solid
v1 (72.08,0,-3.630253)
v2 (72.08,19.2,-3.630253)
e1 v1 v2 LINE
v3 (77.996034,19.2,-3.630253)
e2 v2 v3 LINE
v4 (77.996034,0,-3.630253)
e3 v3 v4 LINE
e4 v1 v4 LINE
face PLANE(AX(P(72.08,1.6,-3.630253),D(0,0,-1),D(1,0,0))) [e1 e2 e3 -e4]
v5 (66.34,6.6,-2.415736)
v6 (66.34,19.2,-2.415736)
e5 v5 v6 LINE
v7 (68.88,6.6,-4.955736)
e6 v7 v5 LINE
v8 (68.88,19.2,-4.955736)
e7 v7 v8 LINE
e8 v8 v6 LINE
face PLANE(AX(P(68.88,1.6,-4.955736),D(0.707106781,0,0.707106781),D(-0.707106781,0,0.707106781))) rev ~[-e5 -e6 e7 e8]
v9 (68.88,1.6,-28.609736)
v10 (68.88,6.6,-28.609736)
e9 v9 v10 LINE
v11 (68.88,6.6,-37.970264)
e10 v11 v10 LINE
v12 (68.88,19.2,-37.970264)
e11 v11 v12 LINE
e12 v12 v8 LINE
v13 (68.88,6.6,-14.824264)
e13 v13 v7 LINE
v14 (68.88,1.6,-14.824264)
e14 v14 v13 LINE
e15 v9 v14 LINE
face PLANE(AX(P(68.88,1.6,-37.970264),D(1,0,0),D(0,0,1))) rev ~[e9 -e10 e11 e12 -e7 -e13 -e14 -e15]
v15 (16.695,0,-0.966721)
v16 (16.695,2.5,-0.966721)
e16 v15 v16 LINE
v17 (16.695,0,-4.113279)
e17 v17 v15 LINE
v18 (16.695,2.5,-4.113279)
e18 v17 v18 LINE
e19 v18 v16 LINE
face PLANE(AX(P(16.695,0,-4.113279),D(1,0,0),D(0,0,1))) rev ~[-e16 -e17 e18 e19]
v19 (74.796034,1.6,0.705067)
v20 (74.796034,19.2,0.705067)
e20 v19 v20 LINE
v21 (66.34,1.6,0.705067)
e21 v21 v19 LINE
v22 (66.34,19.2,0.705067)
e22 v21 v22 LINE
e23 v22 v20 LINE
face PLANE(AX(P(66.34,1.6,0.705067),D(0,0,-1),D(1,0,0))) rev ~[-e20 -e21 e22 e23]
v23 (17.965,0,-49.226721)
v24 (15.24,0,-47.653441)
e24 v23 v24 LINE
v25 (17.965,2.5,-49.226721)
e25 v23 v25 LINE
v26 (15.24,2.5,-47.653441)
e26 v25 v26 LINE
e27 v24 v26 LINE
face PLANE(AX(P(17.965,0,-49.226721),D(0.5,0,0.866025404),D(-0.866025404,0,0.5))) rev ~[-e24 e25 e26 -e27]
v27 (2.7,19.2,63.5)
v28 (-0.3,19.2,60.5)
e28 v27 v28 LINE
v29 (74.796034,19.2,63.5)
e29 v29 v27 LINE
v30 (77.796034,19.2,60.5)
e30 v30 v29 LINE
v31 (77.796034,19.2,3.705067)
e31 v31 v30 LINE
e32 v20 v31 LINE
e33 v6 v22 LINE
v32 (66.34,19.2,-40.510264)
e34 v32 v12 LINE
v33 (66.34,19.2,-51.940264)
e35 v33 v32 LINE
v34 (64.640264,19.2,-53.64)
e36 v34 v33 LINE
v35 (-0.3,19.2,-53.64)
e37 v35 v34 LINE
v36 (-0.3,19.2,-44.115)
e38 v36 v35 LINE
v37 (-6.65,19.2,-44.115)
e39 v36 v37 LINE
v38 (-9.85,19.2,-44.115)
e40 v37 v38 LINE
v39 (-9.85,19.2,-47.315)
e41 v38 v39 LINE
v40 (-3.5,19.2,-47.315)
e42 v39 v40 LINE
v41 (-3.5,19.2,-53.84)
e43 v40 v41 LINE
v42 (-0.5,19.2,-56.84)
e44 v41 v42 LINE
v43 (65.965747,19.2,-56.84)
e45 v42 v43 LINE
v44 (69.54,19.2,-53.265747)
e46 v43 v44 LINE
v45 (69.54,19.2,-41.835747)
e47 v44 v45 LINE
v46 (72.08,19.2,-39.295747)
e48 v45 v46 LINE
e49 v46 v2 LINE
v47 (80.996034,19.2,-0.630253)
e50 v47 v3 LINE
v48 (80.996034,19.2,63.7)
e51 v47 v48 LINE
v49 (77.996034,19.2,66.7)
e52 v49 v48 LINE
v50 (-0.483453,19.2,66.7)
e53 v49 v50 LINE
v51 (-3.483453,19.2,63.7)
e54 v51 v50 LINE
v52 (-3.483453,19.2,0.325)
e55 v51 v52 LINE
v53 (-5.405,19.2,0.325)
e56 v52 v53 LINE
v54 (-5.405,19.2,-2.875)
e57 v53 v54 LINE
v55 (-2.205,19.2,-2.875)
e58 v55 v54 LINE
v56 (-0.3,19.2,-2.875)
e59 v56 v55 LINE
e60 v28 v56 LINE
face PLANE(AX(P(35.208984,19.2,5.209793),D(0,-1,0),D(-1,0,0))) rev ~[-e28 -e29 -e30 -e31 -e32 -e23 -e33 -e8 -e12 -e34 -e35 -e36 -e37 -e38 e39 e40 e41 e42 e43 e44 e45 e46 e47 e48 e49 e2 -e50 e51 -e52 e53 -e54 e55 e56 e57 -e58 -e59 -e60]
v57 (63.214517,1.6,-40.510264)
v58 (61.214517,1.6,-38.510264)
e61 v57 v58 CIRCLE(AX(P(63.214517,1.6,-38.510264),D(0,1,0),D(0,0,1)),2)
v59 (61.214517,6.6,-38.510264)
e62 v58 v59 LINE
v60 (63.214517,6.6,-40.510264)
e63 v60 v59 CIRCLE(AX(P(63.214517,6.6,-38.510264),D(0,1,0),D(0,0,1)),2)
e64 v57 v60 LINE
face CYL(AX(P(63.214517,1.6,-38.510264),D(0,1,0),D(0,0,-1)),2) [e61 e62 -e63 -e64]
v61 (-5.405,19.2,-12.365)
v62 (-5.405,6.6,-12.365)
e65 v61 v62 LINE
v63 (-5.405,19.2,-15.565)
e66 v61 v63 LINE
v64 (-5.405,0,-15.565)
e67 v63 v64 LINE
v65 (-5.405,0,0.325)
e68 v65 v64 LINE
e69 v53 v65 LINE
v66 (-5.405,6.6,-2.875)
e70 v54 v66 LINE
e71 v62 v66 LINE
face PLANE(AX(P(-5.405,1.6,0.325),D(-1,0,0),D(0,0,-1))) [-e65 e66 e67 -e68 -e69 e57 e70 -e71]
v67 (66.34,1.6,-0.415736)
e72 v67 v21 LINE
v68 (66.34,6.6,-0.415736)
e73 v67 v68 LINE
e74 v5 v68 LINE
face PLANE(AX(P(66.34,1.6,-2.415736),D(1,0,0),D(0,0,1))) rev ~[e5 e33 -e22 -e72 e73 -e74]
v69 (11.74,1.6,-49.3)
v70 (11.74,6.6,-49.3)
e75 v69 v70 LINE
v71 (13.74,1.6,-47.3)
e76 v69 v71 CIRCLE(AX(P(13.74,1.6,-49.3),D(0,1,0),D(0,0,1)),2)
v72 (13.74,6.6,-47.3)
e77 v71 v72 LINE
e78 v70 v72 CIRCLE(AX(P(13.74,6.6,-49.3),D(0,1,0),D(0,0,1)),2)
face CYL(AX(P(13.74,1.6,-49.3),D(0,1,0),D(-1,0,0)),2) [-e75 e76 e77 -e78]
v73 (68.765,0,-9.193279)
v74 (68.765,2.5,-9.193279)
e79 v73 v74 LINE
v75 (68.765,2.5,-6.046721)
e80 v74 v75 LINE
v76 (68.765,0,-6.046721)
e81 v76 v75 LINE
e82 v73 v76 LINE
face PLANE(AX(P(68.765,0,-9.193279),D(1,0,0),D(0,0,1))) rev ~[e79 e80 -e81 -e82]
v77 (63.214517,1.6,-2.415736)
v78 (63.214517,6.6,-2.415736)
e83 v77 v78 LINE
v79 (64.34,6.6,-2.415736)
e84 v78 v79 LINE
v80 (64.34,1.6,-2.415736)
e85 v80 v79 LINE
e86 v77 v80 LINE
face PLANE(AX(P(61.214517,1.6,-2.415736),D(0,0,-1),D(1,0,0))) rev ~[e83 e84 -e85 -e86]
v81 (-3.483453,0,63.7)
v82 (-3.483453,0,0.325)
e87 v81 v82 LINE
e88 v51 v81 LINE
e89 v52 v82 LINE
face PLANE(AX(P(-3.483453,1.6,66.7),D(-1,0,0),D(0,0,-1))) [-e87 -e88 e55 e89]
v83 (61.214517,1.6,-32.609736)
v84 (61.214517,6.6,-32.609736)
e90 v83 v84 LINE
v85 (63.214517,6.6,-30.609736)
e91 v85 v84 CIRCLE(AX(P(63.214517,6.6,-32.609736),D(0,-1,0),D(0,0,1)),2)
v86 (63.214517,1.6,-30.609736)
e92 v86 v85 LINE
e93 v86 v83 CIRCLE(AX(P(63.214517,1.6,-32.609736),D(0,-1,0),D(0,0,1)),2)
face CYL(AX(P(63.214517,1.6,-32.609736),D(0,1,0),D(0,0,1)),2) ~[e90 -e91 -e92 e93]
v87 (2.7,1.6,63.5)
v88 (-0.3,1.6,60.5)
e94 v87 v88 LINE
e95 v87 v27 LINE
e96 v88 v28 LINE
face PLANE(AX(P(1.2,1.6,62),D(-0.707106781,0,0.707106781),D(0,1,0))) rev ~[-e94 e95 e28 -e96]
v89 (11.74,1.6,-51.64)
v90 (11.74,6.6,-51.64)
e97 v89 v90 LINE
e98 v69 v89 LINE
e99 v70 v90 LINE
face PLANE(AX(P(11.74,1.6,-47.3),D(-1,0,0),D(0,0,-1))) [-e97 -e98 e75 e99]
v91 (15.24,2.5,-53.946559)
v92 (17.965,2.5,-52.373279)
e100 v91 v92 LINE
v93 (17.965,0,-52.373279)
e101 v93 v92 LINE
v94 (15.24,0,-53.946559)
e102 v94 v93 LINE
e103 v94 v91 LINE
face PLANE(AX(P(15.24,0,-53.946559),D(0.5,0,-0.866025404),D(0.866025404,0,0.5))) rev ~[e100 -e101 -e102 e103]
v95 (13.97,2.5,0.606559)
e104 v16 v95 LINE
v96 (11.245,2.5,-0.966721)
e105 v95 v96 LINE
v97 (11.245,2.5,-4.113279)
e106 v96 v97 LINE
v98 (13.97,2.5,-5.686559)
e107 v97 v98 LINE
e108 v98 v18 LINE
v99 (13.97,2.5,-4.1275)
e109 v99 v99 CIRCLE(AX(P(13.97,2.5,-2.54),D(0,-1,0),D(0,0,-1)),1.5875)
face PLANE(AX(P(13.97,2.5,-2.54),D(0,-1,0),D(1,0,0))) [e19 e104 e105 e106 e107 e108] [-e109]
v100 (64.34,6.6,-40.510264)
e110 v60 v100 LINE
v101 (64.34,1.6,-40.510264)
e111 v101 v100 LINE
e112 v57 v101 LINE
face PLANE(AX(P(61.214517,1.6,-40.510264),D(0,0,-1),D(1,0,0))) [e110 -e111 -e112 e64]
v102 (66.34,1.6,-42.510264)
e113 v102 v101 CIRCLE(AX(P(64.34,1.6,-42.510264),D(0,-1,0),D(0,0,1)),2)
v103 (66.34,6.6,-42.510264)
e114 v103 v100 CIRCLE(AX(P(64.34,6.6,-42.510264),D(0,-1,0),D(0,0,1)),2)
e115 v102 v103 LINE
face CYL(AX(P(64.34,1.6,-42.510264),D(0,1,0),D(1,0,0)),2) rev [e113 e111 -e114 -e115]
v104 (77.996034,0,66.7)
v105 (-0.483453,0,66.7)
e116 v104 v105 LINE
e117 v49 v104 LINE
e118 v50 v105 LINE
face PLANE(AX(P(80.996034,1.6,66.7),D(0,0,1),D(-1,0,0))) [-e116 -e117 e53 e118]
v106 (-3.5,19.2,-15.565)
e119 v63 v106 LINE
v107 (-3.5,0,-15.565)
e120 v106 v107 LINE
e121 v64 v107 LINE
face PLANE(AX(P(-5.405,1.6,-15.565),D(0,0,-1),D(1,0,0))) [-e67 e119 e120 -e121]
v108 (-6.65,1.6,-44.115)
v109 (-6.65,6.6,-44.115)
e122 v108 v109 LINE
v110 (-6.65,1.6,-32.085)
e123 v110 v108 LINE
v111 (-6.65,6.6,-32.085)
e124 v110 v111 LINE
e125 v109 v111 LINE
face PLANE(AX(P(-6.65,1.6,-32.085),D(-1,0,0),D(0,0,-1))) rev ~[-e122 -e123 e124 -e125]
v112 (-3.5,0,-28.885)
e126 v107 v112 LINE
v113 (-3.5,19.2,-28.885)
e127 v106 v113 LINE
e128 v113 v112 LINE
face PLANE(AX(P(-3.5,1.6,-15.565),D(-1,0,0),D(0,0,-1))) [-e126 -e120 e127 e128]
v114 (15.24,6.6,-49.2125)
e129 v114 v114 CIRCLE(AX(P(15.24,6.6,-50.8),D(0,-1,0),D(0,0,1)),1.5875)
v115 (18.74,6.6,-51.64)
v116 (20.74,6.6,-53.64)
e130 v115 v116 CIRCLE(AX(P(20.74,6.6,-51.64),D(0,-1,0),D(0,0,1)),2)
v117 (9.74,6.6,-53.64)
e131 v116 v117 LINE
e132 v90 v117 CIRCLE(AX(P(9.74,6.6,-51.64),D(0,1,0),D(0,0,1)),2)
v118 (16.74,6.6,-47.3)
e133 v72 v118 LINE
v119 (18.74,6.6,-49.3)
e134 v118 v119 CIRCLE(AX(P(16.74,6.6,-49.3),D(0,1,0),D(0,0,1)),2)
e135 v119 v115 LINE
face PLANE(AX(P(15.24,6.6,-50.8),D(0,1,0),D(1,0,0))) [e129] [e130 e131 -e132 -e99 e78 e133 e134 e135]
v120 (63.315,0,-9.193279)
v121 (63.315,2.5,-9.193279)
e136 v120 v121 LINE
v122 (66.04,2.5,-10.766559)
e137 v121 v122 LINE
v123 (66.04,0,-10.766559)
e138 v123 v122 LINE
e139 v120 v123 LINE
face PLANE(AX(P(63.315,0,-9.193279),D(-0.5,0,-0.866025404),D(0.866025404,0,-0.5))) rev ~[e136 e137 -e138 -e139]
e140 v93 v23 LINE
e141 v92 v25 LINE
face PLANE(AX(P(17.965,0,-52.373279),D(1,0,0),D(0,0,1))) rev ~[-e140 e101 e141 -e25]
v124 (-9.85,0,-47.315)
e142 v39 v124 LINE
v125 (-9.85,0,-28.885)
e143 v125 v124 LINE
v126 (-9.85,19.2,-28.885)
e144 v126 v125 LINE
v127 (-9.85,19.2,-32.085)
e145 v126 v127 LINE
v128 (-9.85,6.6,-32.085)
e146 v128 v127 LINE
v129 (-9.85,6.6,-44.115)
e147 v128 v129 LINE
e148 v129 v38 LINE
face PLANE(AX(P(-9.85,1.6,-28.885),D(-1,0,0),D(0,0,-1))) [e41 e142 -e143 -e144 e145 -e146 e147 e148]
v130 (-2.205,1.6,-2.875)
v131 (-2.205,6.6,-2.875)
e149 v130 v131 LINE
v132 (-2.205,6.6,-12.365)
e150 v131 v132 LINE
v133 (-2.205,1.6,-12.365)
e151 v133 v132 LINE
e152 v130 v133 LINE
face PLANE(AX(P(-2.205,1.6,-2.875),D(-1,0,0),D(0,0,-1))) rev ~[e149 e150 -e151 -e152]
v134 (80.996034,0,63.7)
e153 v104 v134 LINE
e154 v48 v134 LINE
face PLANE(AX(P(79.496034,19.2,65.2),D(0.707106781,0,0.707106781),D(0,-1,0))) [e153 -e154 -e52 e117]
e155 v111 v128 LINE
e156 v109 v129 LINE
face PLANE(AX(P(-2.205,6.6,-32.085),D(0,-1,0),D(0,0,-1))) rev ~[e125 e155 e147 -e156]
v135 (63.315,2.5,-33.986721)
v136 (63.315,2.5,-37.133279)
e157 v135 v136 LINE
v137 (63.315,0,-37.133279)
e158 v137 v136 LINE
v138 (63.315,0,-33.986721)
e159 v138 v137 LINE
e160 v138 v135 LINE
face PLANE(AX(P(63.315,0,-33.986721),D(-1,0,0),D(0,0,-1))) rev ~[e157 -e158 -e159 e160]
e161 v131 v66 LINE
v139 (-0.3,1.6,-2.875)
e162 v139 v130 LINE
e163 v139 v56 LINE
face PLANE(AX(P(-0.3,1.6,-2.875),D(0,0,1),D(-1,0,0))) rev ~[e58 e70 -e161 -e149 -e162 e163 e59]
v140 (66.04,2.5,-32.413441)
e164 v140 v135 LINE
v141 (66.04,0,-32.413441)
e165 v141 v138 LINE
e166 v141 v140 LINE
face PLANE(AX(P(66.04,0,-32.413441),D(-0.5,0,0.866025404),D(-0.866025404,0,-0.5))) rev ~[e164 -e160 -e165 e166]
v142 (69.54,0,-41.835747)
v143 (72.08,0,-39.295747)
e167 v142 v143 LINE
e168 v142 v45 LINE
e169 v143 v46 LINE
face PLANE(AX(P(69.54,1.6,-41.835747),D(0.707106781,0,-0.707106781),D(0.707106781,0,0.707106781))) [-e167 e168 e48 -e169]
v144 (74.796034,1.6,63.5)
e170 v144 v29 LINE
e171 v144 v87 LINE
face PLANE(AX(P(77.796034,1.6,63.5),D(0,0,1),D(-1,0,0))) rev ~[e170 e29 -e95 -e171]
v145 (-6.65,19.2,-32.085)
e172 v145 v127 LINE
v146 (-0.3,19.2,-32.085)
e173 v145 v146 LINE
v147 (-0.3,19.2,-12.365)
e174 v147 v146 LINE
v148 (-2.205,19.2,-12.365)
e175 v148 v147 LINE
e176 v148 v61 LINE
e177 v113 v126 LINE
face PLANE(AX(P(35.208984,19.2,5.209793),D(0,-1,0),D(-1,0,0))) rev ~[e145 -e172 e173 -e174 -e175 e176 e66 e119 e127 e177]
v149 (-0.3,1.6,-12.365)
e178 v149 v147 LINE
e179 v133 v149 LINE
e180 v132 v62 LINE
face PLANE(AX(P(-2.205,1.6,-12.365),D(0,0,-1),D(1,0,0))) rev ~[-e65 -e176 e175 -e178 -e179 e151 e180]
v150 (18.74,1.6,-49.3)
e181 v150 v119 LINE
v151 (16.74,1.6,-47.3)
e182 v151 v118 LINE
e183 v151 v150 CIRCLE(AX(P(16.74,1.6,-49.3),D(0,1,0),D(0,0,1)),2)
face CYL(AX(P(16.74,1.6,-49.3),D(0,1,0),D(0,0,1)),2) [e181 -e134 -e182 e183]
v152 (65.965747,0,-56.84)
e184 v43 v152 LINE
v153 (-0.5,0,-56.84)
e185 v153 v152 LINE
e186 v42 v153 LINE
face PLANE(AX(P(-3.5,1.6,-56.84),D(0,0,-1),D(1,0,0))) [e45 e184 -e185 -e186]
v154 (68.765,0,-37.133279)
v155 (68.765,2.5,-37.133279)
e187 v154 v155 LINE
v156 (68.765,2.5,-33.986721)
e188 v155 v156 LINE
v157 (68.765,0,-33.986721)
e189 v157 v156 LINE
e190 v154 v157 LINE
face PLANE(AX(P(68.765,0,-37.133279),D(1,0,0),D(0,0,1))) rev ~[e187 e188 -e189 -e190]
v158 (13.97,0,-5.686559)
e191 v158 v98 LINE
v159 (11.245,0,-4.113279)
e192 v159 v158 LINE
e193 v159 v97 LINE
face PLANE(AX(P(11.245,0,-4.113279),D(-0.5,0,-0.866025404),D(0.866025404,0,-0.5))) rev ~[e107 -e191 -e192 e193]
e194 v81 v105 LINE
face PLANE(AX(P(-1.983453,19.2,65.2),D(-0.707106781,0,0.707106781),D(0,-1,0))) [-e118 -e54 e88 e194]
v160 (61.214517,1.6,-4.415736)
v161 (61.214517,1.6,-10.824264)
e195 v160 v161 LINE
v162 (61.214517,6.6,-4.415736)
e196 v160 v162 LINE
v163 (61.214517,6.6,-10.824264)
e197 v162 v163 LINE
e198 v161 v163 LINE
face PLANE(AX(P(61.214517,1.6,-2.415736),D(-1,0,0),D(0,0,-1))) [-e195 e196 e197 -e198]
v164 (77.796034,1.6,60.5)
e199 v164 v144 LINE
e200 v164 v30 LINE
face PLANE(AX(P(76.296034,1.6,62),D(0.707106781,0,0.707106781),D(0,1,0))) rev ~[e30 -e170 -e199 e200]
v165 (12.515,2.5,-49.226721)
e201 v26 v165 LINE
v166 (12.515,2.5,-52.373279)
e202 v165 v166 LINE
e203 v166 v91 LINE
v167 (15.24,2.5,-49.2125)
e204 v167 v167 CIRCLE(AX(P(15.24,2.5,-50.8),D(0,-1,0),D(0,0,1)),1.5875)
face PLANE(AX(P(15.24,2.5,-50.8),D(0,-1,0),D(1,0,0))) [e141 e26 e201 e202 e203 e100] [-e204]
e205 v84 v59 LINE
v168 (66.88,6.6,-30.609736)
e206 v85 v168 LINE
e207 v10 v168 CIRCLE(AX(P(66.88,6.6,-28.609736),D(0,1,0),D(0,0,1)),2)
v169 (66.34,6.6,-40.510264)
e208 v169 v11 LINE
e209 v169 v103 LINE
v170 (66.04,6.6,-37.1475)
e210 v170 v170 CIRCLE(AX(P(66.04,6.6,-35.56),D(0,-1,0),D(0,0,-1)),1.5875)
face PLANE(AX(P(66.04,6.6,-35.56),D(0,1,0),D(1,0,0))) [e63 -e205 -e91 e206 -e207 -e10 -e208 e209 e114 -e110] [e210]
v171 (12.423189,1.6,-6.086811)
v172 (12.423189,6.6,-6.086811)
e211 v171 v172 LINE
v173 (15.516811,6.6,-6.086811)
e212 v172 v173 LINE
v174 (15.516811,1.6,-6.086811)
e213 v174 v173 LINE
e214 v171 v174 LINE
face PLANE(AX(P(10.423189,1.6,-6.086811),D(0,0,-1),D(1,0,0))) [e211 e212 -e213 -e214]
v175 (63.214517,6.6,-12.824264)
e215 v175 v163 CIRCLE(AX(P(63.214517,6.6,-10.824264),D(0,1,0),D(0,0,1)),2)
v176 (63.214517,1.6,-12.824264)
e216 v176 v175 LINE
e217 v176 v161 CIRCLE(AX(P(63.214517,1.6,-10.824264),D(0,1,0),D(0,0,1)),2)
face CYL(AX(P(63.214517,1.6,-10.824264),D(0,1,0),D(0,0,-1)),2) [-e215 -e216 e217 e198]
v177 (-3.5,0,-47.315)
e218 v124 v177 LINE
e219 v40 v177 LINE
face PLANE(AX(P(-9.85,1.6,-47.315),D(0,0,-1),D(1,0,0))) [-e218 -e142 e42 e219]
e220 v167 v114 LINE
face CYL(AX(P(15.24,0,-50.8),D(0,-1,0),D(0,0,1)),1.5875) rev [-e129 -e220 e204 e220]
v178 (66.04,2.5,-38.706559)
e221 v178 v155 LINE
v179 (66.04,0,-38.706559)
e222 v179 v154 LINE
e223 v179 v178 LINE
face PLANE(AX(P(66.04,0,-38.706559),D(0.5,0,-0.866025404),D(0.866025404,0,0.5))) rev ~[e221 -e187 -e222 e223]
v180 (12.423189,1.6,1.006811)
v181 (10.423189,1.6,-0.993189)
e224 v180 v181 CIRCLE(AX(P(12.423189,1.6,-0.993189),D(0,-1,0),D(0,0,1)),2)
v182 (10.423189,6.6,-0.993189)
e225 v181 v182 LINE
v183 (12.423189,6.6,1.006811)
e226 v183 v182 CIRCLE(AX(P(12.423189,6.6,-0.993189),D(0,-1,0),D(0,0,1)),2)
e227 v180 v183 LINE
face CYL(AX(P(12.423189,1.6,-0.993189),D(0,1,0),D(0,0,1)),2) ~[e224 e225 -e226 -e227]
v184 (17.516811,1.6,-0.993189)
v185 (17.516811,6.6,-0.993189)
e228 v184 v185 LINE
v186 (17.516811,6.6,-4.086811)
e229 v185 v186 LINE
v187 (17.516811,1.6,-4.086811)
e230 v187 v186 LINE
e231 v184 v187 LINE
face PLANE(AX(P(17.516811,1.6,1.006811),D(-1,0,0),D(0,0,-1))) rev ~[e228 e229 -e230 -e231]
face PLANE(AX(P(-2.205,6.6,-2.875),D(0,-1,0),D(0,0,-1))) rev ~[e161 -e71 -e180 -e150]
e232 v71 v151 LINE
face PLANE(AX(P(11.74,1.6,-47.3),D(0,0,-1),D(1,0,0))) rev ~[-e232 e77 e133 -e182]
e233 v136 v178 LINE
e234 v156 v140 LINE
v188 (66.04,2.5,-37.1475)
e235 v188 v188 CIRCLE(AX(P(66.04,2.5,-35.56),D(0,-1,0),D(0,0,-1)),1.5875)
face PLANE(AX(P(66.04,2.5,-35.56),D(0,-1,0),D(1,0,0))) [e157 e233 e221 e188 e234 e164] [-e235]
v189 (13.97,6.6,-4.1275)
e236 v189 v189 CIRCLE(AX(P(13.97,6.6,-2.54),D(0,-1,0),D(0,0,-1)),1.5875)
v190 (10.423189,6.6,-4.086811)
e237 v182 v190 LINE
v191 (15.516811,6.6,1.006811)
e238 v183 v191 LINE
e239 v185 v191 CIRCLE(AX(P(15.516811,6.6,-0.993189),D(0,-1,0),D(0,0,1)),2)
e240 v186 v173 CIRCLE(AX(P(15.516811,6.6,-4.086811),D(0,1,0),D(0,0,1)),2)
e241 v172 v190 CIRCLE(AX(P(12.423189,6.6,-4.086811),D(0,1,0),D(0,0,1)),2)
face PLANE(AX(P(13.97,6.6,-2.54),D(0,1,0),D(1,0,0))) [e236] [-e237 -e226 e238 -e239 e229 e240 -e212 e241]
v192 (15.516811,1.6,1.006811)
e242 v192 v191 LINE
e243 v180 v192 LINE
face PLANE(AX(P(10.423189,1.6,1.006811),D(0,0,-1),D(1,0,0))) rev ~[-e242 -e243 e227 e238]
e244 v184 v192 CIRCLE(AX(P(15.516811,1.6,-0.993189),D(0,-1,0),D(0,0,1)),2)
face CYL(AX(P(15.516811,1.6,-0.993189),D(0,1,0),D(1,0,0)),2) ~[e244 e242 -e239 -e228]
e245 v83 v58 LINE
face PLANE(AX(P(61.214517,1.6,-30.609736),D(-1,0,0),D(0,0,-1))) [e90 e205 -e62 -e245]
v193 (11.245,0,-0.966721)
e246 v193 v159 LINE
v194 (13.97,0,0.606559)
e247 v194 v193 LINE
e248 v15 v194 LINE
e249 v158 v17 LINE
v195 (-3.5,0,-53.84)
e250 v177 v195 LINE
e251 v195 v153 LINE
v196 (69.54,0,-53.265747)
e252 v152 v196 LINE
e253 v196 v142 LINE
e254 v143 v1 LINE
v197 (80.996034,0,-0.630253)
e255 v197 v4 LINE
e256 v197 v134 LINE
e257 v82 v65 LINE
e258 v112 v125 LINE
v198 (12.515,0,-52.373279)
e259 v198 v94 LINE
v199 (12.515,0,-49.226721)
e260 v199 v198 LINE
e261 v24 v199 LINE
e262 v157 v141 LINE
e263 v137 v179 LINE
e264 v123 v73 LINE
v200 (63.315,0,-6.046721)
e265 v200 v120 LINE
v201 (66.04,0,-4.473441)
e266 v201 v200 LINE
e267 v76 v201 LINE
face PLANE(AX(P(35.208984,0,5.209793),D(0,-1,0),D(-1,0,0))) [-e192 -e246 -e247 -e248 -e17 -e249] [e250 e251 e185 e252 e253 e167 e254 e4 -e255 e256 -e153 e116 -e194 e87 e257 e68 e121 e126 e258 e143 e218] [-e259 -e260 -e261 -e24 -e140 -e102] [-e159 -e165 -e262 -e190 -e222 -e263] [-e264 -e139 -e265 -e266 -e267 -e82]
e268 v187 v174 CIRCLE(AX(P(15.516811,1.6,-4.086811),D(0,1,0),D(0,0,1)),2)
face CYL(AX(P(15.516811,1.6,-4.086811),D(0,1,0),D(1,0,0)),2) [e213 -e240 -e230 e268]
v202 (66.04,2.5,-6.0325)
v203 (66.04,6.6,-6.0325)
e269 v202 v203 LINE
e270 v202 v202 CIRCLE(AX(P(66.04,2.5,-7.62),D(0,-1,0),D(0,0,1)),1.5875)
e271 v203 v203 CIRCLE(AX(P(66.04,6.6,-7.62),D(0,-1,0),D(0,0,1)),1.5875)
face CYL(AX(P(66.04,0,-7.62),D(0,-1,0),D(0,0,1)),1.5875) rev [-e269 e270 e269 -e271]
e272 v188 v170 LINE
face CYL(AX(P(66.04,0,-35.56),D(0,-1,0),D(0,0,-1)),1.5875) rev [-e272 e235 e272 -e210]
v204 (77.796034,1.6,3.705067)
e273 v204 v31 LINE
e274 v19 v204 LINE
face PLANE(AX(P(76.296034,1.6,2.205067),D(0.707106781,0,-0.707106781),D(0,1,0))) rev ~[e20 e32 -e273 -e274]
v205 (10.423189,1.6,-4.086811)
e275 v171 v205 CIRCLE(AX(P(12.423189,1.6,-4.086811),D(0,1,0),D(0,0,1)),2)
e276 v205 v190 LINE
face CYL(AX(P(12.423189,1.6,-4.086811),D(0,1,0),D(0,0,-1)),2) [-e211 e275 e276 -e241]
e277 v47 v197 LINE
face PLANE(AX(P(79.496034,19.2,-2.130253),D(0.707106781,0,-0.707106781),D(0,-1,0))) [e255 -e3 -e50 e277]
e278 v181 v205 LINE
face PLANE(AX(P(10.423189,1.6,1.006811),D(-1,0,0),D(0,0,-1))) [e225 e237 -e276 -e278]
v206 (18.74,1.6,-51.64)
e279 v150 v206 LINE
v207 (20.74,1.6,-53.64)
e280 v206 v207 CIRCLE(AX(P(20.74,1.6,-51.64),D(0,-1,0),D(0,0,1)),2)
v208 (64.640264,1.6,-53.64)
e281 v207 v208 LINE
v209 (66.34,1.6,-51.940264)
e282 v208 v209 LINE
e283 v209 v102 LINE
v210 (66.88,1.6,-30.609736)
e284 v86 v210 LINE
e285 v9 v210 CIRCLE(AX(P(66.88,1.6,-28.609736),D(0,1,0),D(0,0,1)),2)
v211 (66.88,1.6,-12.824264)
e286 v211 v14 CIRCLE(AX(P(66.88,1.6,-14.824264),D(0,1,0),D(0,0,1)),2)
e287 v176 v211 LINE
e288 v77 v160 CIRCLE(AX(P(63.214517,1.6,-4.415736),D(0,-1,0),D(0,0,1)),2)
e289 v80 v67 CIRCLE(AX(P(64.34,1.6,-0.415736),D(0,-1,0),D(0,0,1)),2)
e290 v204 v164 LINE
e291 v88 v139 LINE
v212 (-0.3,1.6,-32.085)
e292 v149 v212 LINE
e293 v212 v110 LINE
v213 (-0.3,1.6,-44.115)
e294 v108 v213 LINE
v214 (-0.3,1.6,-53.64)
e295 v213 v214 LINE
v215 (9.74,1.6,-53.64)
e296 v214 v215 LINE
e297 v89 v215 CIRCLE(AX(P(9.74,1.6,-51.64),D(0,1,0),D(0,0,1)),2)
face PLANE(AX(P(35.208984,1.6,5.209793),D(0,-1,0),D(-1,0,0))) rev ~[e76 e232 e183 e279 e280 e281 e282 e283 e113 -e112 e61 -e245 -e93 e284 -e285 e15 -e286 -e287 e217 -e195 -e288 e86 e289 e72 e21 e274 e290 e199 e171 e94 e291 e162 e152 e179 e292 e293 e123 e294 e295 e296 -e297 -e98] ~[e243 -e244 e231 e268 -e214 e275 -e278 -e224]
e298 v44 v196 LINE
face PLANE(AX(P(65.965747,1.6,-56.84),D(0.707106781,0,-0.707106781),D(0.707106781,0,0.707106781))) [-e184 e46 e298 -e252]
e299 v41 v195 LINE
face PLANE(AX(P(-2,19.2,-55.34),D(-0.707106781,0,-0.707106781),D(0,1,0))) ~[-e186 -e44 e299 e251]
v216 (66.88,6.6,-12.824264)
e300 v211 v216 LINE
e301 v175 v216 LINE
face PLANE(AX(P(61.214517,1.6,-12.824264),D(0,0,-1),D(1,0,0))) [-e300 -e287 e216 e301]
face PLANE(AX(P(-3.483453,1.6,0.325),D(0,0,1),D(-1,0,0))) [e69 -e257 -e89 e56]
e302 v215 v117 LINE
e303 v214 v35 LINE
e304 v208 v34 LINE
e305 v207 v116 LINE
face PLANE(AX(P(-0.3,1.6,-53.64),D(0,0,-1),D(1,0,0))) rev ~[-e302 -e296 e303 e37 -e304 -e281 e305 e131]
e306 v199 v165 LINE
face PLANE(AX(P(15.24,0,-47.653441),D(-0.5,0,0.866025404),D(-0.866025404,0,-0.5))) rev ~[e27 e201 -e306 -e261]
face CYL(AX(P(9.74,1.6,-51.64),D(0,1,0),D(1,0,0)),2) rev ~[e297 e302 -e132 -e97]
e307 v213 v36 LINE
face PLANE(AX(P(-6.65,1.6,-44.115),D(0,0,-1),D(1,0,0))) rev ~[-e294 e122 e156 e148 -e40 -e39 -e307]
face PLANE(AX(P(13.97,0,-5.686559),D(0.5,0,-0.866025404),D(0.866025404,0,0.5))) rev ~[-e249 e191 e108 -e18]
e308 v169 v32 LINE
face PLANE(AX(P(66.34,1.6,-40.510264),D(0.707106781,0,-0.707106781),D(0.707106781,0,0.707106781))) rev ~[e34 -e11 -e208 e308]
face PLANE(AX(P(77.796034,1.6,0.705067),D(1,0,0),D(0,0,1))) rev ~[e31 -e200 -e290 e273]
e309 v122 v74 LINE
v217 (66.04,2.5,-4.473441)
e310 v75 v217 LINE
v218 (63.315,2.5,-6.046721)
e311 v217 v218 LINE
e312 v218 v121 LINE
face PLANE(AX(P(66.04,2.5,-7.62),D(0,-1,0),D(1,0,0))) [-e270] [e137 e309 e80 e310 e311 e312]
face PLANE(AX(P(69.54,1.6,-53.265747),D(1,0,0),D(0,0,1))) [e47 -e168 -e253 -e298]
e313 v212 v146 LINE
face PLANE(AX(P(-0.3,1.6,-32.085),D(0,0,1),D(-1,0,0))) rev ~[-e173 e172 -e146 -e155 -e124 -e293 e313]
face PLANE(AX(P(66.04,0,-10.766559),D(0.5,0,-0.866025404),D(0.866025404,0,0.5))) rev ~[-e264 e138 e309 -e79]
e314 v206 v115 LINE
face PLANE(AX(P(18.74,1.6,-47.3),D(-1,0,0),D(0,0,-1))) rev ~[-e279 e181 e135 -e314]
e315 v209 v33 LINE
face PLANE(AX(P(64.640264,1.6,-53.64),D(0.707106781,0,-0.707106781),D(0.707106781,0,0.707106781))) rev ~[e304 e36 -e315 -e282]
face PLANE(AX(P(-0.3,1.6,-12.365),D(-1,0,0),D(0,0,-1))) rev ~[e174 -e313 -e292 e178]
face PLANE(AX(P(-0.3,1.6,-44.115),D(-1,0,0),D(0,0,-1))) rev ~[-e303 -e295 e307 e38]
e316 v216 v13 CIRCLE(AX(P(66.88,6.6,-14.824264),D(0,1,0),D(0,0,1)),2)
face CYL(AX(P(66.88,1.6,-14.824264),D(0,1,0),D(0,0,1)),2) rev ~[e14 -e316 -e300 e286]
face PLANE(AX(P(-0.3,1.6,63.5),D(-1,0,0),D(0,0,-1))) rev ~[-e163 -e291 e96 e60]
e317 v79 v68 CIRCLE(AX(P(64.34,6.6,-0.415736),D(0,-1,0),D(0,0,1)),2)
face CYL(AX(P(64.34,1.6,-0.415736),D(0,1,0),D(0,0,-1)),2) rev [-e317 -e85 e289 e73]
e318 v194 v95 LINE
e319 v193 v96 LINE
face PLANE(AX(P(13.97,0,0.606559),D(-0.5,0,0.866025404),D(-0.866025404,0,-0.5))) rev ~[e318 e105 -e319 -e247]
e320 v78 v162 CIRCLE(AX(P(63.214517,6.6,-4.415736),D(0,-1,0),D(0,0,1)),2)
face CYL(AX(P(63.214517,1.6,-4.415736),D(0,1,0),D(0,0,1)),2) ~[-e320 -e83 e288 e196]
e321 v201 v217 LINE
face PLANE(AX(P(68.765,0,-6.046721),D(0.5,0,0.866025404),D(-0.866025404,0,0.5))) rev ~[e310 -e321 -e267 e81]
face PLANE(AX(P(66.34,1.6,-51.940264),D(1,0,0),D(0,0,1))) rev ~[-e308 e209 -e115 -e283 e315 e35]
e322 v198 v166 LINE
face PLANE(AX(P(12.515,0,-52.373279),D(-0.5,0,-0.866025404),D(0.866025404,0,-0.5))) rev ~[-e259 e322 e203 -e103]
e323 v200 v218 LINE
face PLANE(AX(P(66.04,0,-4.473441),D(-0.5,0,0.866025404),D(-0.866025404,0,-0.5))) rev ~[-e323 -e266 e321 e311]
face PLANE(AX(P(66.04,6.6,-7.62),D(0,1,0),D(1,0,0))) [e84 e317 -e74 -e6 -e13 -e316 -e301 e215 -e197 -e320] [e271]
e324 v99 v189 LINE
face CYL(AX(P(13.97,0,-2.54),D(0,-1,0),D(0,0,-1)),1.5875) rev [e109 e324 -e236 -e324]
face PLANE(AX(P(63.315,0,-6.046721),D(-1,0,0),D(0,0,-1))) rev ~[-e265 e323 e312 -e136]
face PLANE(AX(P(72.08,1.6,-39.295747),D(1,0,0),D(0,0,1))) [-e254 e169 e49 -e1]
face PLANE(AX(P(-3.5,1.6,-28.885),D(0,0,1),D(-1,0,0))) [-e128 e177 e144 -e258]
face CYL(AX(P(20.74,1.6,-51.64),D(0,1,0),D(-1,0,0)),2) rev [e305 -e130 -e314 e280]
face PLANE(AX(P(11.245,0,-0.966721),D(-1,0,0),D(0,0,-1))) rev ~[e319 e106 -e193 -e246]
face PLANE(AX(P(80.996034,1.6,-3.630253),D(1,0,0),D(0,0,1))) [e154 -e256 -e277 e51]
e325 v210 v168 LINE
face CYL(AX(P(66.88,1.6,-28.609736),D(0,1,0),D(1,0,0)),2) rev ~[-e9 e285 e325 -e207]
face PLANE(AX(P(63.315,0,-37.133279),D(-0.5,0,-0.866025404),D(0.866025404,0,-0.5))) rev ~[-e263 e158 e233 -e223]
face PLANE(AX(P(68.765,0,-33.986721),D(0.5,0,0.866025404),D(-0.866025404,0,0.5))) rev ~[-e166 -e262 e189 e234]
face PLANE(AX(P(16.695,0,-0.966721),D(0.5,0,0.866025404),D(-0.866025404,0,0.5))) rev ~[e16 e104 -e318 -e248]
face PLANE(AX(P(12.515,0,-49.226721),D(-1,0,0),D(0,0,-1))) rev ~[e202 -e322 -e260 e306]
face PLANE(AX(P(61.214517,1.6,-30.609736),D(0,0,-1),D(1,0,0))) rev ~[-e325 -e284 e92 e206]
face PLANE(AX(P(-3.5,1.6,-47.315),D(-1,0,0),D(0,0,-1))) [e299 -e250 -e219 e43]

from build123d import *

# Parameters (mm, degrees)
BOSS_EXTRUDE1_DEPTH = 1.600000102
BOSS_EXTRUDE2_START = 1.6
BOSS_EXTRUDE2_DEPTH = 17.599999852
SKETCH7_W           = 6.999999716
SKETCH7_H           = 6.999999716
SKETCH7_W_2         = 9.650966474
SKETCH7_H_2         = 9.900528062
SKETCH7_H_3         = 10.408528062
SKETCH7_W_3         = 7.09362233
SKETCH7_H_4         = 7.09362233
BOSS_EXTRUDE4_DEPTH = 4.999999906
SKETCH2_R           = 1.5875
CUT_EXTRUDE3_DEPTH  = 107.667181296
SKETCH6_W           = 9.489999816
SKETCH6_H           = 12.599999946
SKETCH6_W_2         = 12.029999816
CUT_EXTRUDE1_DEPTH  = 7.64499995
FILLET1_R           = 2.000000064
CHAMFER2_SIZE       = 3
CUT_EXTRUDE6_DEPTH  = 2.50000008


with BuildPart() as part:
    # Sketch3 → Boss-Extrude1 (new body)
    with BuildSketch(Plane(origin=(0, 0, 0), x_dir=(1, 0, 0), z_dir=(0, 1, 0))):
        Polygon((72.079999858, 3.630252591), (80.996034335, 3.630252591), (80.996034335, -66.69999995), (-3.483453186, -66.69999995), (-3.483453186, -0.324999858), (-5.404999858, -0.324999858), (-5.404999858, 15.564999858), (-3.499999858, 15.564999858), (-3.499999858, 28.885000142), (-9.849999858, 28.885000142), (-9.849999858, 47.314999858), (-3.499999858, 47.314999858), (-3.499999858, 56.839999858), (65.965747409, 56.839999858), (69.539999858, 53.265747409), (69.539999858, 41.835747409), (72.079999858, 39.295747409), align=None)
    extrude(amount=BOSS_EXTRUDE1_DEPTH)

    # Sketch3<3> → Boss-Extrude2 (add)
    with BuildSketch(Plane(origin=(0, 0, 0), x_dir=(1, 0, 0), z_dir=(0, 1, 0)).offset(BOSS_EXTRUDE2_START)):
        Polygon((72.079999858, 3.630252591), (80.996034335, 3.630252591), (80.996034335, -66.69999995), (-3.483453186, -66.69999995), (-3.483453186, -0.324999858), (-5.404999858, -0.324999858), (-5.404999858, 15.564999858), (-3.499999858, 15.564999858), (-3.499999858, 28.885000142), (-9.849999858, 28.885000142), (-9.849999858, 47.314999858), (-3.499999858, 47.314999858), (-3.499999858, 56.839999858), (65.965747409, 56.839999858), (69.539999858, 53.265747409), (69.539999858, 41.835747409), (72.079999858, 39.295747409), align=None)
        Polygon((77.796034385, -0.705067354), (77.796034385, -63.5), (-0.299999908, -63.5), (-0.299999908, 0), (-0.299999908, 2.875000092), (-2.204999908, 2.875000092), (-2.204999908, 12.364999908), (-0.299999908, 12.364999908), (-0.299999908, 32.085000092), (-6.649999908, 32.085000092), (-6.649999908, 44.114999908), (-0.299999908, 44.114999908), (-0.299999908, 53.639999908), (64.640264031, 53.639999908), (66.339999908, 51.940264031), (66.339999908, 40.510264031), (68.879999908, 37.970264031), (68.879999908, 4.955735969), (66.339999908, 2.415735969), (66.339999908, 0), (66.339999908, -0.705067354), align=None, mode=Mode.SUBTRACT)
    extrude(amount=BOSS_EXTRUDE2_DEPTH)

    # Sketch7 → Boss-Extrude4 (add)
    with BuildSketch(Plane(origin=(0, 1.600000102, 0), x_dir=(1, 0, 0), z_dir=(0, 1, 0))):
        with Locations((15.24, 50.8)):
            Rectangle(SKETCH7_W, SKETCH7_H)
        with Locations((66.04, 35.56)):
            Rectangle(SKETCH7_W_2, SKETCH7_H_2)
        with Locations((66.04, 7.62)):
            Rectangle(SKETCH7_W_2, SKETCH7_H_3)
        with Locations((13.97, 2.54)):
            Rectangle(SKETCH7_W_3, SKETCH7_H_4)
    extrude(amount=BOSS_EXTRUDE4_DEPTH)

    # Sketch2 → Cut-Extrude3 (cut, through all)
    with BuildSketch(Plane(origin=(0, 0, 0), x_dir=(1, 0, 0), z_dir=(0, 1, 0))):
        with Locations(Location((13.97, 2.54, 0), (0, 0, 90))):
            Circle(SKETCH2_R)
        with Locations(Location((15.24, 50.8, 0), (0, 0, 270))):
            Circle(SKETCH2_R)
        with Locations(Location((66.04, 35.56, 0), (0, 0, 90))):
            Circle(SKETCH2_R)
        with Locations(Location((66.04, 7.62, 0), (0, 0, 270))):
            Circle(SKETCH2_R)
    extrude(amount=CUT_EXTRUDE3_DEPTH, mode=Mode.SUBTRACT)

    # Sketch6 → Cut-Extrude1 (cut)
    with BuildSketch(Plane(origin=(-2.204999908, 0, 0), x_dir=(0, 0, -1), z_dir=(1, 0, 0))):
        with Locations((7.62, 12.899999981)):
            Rectangle(SKETCH6_W, SKETCH6_H)
        with Locations((38.1, 12.899999981)):
            Rectangle(SKETCH6_W_2, SKETCH6_H)
    extrude(amount=-CUT_EXTRUDE1_DEPTH, mode=Mode.SUBTRACT)

    # Fillet1
    fillet1_edges = [part.edges().sort_by_distance(p)[0] for p in [
        (11.740000142, 4.100000055, -53.639999908),
        (18.739999858, 4.100000055, -53.639999908),
        (18.739999858, 4.100000055, -47.300000142),
        (11.740000142, 4.100000055, -47.300000142),
        (66.339999908, 4.100000004, -40.510264031),
        (68.879999908, 4.100000055, -30.609735969),
        (61.214516763, 4.100000055, -30.609735969),
        (61.214516763, 4.100000055, -40.510264031),
        (66.339999908, 4.100000004, -2.415735969),
        (68.879999908, 4.100000055, -12.824264031),
        (61.214516763, 4.100000055, -2.415735969),
        (61.214516763, 4.100000055, -12.824264031),
        (10.423188835, 4.100000055, -6.086811165),
        (10.423188835, 4.100000055, 1.006811165),
        (17.516811165, 4.100000055, 1.006811165),
        (17.516811165, 4.100000055, -6.086811165),
    ]]
    fillet(fillet1_edges, radius=FILLET1_R)

    # Chamfer2
    chamfer2_edges = [part.edges().sort_by_distance(p)[0] for p in [
        (-3.499999858, 9.599999926, -56.839999858),
        (80.996034335, 9.599999926, -3.630252591),
        (80.996034335, 9.599999926, 66.69999995),
        (-3.483453186, 9.599999926, 66.69999995),
        (-0.299999908, 10.399999926, 63.5),
        (77.796034385, 10.399999926, 63.5),
        (77.796034385, 10.399999926, 0.705067354),
    ]]
    chamfer(chamfer2_edges, length=CHAMFER2_SIZE)

    # Sketch15 → Cut-Extrude6 (cut)
    with BuildSketch(Plane.XZ):
        Polygon((13.97, 0.60655898), (11.244999989, -0.96672051), (11.244999989, -4.11327949), (13.97, -5.68655898), (16.695000011, -4.11327949), (16.695000011, -0.96672051), align=None)
        Polygon((66.04, -4.47344102), (63.314999989, -6.04672051), (63.314999989, -9.19327949), (66.04, -10.76655898), (68.765000011, -9.19327949), (68.765000011, -6.04672051), align=None)
        Polygon((66.04, -32.41344102), (63.314999989, -33.98672051), (63.314999989, -37.13327949), (66.04, -38.70655898), (68.765000011, -37.13327949), (68.765000011, -33.98672051), align=None)
        Polygon((15.24, -47.65344102), (12.514999989, -49.22672051), (12.514999989, -52.37327949), (15.24, -53.94655898), (17.965000011, -52.37327949), (17.965000011, -49.22672051), align=None)
    extrude(amount=-CUT_EXTRUDE6_DEPTH, mode=Mode.SUBTRACT)


solid = part.part
